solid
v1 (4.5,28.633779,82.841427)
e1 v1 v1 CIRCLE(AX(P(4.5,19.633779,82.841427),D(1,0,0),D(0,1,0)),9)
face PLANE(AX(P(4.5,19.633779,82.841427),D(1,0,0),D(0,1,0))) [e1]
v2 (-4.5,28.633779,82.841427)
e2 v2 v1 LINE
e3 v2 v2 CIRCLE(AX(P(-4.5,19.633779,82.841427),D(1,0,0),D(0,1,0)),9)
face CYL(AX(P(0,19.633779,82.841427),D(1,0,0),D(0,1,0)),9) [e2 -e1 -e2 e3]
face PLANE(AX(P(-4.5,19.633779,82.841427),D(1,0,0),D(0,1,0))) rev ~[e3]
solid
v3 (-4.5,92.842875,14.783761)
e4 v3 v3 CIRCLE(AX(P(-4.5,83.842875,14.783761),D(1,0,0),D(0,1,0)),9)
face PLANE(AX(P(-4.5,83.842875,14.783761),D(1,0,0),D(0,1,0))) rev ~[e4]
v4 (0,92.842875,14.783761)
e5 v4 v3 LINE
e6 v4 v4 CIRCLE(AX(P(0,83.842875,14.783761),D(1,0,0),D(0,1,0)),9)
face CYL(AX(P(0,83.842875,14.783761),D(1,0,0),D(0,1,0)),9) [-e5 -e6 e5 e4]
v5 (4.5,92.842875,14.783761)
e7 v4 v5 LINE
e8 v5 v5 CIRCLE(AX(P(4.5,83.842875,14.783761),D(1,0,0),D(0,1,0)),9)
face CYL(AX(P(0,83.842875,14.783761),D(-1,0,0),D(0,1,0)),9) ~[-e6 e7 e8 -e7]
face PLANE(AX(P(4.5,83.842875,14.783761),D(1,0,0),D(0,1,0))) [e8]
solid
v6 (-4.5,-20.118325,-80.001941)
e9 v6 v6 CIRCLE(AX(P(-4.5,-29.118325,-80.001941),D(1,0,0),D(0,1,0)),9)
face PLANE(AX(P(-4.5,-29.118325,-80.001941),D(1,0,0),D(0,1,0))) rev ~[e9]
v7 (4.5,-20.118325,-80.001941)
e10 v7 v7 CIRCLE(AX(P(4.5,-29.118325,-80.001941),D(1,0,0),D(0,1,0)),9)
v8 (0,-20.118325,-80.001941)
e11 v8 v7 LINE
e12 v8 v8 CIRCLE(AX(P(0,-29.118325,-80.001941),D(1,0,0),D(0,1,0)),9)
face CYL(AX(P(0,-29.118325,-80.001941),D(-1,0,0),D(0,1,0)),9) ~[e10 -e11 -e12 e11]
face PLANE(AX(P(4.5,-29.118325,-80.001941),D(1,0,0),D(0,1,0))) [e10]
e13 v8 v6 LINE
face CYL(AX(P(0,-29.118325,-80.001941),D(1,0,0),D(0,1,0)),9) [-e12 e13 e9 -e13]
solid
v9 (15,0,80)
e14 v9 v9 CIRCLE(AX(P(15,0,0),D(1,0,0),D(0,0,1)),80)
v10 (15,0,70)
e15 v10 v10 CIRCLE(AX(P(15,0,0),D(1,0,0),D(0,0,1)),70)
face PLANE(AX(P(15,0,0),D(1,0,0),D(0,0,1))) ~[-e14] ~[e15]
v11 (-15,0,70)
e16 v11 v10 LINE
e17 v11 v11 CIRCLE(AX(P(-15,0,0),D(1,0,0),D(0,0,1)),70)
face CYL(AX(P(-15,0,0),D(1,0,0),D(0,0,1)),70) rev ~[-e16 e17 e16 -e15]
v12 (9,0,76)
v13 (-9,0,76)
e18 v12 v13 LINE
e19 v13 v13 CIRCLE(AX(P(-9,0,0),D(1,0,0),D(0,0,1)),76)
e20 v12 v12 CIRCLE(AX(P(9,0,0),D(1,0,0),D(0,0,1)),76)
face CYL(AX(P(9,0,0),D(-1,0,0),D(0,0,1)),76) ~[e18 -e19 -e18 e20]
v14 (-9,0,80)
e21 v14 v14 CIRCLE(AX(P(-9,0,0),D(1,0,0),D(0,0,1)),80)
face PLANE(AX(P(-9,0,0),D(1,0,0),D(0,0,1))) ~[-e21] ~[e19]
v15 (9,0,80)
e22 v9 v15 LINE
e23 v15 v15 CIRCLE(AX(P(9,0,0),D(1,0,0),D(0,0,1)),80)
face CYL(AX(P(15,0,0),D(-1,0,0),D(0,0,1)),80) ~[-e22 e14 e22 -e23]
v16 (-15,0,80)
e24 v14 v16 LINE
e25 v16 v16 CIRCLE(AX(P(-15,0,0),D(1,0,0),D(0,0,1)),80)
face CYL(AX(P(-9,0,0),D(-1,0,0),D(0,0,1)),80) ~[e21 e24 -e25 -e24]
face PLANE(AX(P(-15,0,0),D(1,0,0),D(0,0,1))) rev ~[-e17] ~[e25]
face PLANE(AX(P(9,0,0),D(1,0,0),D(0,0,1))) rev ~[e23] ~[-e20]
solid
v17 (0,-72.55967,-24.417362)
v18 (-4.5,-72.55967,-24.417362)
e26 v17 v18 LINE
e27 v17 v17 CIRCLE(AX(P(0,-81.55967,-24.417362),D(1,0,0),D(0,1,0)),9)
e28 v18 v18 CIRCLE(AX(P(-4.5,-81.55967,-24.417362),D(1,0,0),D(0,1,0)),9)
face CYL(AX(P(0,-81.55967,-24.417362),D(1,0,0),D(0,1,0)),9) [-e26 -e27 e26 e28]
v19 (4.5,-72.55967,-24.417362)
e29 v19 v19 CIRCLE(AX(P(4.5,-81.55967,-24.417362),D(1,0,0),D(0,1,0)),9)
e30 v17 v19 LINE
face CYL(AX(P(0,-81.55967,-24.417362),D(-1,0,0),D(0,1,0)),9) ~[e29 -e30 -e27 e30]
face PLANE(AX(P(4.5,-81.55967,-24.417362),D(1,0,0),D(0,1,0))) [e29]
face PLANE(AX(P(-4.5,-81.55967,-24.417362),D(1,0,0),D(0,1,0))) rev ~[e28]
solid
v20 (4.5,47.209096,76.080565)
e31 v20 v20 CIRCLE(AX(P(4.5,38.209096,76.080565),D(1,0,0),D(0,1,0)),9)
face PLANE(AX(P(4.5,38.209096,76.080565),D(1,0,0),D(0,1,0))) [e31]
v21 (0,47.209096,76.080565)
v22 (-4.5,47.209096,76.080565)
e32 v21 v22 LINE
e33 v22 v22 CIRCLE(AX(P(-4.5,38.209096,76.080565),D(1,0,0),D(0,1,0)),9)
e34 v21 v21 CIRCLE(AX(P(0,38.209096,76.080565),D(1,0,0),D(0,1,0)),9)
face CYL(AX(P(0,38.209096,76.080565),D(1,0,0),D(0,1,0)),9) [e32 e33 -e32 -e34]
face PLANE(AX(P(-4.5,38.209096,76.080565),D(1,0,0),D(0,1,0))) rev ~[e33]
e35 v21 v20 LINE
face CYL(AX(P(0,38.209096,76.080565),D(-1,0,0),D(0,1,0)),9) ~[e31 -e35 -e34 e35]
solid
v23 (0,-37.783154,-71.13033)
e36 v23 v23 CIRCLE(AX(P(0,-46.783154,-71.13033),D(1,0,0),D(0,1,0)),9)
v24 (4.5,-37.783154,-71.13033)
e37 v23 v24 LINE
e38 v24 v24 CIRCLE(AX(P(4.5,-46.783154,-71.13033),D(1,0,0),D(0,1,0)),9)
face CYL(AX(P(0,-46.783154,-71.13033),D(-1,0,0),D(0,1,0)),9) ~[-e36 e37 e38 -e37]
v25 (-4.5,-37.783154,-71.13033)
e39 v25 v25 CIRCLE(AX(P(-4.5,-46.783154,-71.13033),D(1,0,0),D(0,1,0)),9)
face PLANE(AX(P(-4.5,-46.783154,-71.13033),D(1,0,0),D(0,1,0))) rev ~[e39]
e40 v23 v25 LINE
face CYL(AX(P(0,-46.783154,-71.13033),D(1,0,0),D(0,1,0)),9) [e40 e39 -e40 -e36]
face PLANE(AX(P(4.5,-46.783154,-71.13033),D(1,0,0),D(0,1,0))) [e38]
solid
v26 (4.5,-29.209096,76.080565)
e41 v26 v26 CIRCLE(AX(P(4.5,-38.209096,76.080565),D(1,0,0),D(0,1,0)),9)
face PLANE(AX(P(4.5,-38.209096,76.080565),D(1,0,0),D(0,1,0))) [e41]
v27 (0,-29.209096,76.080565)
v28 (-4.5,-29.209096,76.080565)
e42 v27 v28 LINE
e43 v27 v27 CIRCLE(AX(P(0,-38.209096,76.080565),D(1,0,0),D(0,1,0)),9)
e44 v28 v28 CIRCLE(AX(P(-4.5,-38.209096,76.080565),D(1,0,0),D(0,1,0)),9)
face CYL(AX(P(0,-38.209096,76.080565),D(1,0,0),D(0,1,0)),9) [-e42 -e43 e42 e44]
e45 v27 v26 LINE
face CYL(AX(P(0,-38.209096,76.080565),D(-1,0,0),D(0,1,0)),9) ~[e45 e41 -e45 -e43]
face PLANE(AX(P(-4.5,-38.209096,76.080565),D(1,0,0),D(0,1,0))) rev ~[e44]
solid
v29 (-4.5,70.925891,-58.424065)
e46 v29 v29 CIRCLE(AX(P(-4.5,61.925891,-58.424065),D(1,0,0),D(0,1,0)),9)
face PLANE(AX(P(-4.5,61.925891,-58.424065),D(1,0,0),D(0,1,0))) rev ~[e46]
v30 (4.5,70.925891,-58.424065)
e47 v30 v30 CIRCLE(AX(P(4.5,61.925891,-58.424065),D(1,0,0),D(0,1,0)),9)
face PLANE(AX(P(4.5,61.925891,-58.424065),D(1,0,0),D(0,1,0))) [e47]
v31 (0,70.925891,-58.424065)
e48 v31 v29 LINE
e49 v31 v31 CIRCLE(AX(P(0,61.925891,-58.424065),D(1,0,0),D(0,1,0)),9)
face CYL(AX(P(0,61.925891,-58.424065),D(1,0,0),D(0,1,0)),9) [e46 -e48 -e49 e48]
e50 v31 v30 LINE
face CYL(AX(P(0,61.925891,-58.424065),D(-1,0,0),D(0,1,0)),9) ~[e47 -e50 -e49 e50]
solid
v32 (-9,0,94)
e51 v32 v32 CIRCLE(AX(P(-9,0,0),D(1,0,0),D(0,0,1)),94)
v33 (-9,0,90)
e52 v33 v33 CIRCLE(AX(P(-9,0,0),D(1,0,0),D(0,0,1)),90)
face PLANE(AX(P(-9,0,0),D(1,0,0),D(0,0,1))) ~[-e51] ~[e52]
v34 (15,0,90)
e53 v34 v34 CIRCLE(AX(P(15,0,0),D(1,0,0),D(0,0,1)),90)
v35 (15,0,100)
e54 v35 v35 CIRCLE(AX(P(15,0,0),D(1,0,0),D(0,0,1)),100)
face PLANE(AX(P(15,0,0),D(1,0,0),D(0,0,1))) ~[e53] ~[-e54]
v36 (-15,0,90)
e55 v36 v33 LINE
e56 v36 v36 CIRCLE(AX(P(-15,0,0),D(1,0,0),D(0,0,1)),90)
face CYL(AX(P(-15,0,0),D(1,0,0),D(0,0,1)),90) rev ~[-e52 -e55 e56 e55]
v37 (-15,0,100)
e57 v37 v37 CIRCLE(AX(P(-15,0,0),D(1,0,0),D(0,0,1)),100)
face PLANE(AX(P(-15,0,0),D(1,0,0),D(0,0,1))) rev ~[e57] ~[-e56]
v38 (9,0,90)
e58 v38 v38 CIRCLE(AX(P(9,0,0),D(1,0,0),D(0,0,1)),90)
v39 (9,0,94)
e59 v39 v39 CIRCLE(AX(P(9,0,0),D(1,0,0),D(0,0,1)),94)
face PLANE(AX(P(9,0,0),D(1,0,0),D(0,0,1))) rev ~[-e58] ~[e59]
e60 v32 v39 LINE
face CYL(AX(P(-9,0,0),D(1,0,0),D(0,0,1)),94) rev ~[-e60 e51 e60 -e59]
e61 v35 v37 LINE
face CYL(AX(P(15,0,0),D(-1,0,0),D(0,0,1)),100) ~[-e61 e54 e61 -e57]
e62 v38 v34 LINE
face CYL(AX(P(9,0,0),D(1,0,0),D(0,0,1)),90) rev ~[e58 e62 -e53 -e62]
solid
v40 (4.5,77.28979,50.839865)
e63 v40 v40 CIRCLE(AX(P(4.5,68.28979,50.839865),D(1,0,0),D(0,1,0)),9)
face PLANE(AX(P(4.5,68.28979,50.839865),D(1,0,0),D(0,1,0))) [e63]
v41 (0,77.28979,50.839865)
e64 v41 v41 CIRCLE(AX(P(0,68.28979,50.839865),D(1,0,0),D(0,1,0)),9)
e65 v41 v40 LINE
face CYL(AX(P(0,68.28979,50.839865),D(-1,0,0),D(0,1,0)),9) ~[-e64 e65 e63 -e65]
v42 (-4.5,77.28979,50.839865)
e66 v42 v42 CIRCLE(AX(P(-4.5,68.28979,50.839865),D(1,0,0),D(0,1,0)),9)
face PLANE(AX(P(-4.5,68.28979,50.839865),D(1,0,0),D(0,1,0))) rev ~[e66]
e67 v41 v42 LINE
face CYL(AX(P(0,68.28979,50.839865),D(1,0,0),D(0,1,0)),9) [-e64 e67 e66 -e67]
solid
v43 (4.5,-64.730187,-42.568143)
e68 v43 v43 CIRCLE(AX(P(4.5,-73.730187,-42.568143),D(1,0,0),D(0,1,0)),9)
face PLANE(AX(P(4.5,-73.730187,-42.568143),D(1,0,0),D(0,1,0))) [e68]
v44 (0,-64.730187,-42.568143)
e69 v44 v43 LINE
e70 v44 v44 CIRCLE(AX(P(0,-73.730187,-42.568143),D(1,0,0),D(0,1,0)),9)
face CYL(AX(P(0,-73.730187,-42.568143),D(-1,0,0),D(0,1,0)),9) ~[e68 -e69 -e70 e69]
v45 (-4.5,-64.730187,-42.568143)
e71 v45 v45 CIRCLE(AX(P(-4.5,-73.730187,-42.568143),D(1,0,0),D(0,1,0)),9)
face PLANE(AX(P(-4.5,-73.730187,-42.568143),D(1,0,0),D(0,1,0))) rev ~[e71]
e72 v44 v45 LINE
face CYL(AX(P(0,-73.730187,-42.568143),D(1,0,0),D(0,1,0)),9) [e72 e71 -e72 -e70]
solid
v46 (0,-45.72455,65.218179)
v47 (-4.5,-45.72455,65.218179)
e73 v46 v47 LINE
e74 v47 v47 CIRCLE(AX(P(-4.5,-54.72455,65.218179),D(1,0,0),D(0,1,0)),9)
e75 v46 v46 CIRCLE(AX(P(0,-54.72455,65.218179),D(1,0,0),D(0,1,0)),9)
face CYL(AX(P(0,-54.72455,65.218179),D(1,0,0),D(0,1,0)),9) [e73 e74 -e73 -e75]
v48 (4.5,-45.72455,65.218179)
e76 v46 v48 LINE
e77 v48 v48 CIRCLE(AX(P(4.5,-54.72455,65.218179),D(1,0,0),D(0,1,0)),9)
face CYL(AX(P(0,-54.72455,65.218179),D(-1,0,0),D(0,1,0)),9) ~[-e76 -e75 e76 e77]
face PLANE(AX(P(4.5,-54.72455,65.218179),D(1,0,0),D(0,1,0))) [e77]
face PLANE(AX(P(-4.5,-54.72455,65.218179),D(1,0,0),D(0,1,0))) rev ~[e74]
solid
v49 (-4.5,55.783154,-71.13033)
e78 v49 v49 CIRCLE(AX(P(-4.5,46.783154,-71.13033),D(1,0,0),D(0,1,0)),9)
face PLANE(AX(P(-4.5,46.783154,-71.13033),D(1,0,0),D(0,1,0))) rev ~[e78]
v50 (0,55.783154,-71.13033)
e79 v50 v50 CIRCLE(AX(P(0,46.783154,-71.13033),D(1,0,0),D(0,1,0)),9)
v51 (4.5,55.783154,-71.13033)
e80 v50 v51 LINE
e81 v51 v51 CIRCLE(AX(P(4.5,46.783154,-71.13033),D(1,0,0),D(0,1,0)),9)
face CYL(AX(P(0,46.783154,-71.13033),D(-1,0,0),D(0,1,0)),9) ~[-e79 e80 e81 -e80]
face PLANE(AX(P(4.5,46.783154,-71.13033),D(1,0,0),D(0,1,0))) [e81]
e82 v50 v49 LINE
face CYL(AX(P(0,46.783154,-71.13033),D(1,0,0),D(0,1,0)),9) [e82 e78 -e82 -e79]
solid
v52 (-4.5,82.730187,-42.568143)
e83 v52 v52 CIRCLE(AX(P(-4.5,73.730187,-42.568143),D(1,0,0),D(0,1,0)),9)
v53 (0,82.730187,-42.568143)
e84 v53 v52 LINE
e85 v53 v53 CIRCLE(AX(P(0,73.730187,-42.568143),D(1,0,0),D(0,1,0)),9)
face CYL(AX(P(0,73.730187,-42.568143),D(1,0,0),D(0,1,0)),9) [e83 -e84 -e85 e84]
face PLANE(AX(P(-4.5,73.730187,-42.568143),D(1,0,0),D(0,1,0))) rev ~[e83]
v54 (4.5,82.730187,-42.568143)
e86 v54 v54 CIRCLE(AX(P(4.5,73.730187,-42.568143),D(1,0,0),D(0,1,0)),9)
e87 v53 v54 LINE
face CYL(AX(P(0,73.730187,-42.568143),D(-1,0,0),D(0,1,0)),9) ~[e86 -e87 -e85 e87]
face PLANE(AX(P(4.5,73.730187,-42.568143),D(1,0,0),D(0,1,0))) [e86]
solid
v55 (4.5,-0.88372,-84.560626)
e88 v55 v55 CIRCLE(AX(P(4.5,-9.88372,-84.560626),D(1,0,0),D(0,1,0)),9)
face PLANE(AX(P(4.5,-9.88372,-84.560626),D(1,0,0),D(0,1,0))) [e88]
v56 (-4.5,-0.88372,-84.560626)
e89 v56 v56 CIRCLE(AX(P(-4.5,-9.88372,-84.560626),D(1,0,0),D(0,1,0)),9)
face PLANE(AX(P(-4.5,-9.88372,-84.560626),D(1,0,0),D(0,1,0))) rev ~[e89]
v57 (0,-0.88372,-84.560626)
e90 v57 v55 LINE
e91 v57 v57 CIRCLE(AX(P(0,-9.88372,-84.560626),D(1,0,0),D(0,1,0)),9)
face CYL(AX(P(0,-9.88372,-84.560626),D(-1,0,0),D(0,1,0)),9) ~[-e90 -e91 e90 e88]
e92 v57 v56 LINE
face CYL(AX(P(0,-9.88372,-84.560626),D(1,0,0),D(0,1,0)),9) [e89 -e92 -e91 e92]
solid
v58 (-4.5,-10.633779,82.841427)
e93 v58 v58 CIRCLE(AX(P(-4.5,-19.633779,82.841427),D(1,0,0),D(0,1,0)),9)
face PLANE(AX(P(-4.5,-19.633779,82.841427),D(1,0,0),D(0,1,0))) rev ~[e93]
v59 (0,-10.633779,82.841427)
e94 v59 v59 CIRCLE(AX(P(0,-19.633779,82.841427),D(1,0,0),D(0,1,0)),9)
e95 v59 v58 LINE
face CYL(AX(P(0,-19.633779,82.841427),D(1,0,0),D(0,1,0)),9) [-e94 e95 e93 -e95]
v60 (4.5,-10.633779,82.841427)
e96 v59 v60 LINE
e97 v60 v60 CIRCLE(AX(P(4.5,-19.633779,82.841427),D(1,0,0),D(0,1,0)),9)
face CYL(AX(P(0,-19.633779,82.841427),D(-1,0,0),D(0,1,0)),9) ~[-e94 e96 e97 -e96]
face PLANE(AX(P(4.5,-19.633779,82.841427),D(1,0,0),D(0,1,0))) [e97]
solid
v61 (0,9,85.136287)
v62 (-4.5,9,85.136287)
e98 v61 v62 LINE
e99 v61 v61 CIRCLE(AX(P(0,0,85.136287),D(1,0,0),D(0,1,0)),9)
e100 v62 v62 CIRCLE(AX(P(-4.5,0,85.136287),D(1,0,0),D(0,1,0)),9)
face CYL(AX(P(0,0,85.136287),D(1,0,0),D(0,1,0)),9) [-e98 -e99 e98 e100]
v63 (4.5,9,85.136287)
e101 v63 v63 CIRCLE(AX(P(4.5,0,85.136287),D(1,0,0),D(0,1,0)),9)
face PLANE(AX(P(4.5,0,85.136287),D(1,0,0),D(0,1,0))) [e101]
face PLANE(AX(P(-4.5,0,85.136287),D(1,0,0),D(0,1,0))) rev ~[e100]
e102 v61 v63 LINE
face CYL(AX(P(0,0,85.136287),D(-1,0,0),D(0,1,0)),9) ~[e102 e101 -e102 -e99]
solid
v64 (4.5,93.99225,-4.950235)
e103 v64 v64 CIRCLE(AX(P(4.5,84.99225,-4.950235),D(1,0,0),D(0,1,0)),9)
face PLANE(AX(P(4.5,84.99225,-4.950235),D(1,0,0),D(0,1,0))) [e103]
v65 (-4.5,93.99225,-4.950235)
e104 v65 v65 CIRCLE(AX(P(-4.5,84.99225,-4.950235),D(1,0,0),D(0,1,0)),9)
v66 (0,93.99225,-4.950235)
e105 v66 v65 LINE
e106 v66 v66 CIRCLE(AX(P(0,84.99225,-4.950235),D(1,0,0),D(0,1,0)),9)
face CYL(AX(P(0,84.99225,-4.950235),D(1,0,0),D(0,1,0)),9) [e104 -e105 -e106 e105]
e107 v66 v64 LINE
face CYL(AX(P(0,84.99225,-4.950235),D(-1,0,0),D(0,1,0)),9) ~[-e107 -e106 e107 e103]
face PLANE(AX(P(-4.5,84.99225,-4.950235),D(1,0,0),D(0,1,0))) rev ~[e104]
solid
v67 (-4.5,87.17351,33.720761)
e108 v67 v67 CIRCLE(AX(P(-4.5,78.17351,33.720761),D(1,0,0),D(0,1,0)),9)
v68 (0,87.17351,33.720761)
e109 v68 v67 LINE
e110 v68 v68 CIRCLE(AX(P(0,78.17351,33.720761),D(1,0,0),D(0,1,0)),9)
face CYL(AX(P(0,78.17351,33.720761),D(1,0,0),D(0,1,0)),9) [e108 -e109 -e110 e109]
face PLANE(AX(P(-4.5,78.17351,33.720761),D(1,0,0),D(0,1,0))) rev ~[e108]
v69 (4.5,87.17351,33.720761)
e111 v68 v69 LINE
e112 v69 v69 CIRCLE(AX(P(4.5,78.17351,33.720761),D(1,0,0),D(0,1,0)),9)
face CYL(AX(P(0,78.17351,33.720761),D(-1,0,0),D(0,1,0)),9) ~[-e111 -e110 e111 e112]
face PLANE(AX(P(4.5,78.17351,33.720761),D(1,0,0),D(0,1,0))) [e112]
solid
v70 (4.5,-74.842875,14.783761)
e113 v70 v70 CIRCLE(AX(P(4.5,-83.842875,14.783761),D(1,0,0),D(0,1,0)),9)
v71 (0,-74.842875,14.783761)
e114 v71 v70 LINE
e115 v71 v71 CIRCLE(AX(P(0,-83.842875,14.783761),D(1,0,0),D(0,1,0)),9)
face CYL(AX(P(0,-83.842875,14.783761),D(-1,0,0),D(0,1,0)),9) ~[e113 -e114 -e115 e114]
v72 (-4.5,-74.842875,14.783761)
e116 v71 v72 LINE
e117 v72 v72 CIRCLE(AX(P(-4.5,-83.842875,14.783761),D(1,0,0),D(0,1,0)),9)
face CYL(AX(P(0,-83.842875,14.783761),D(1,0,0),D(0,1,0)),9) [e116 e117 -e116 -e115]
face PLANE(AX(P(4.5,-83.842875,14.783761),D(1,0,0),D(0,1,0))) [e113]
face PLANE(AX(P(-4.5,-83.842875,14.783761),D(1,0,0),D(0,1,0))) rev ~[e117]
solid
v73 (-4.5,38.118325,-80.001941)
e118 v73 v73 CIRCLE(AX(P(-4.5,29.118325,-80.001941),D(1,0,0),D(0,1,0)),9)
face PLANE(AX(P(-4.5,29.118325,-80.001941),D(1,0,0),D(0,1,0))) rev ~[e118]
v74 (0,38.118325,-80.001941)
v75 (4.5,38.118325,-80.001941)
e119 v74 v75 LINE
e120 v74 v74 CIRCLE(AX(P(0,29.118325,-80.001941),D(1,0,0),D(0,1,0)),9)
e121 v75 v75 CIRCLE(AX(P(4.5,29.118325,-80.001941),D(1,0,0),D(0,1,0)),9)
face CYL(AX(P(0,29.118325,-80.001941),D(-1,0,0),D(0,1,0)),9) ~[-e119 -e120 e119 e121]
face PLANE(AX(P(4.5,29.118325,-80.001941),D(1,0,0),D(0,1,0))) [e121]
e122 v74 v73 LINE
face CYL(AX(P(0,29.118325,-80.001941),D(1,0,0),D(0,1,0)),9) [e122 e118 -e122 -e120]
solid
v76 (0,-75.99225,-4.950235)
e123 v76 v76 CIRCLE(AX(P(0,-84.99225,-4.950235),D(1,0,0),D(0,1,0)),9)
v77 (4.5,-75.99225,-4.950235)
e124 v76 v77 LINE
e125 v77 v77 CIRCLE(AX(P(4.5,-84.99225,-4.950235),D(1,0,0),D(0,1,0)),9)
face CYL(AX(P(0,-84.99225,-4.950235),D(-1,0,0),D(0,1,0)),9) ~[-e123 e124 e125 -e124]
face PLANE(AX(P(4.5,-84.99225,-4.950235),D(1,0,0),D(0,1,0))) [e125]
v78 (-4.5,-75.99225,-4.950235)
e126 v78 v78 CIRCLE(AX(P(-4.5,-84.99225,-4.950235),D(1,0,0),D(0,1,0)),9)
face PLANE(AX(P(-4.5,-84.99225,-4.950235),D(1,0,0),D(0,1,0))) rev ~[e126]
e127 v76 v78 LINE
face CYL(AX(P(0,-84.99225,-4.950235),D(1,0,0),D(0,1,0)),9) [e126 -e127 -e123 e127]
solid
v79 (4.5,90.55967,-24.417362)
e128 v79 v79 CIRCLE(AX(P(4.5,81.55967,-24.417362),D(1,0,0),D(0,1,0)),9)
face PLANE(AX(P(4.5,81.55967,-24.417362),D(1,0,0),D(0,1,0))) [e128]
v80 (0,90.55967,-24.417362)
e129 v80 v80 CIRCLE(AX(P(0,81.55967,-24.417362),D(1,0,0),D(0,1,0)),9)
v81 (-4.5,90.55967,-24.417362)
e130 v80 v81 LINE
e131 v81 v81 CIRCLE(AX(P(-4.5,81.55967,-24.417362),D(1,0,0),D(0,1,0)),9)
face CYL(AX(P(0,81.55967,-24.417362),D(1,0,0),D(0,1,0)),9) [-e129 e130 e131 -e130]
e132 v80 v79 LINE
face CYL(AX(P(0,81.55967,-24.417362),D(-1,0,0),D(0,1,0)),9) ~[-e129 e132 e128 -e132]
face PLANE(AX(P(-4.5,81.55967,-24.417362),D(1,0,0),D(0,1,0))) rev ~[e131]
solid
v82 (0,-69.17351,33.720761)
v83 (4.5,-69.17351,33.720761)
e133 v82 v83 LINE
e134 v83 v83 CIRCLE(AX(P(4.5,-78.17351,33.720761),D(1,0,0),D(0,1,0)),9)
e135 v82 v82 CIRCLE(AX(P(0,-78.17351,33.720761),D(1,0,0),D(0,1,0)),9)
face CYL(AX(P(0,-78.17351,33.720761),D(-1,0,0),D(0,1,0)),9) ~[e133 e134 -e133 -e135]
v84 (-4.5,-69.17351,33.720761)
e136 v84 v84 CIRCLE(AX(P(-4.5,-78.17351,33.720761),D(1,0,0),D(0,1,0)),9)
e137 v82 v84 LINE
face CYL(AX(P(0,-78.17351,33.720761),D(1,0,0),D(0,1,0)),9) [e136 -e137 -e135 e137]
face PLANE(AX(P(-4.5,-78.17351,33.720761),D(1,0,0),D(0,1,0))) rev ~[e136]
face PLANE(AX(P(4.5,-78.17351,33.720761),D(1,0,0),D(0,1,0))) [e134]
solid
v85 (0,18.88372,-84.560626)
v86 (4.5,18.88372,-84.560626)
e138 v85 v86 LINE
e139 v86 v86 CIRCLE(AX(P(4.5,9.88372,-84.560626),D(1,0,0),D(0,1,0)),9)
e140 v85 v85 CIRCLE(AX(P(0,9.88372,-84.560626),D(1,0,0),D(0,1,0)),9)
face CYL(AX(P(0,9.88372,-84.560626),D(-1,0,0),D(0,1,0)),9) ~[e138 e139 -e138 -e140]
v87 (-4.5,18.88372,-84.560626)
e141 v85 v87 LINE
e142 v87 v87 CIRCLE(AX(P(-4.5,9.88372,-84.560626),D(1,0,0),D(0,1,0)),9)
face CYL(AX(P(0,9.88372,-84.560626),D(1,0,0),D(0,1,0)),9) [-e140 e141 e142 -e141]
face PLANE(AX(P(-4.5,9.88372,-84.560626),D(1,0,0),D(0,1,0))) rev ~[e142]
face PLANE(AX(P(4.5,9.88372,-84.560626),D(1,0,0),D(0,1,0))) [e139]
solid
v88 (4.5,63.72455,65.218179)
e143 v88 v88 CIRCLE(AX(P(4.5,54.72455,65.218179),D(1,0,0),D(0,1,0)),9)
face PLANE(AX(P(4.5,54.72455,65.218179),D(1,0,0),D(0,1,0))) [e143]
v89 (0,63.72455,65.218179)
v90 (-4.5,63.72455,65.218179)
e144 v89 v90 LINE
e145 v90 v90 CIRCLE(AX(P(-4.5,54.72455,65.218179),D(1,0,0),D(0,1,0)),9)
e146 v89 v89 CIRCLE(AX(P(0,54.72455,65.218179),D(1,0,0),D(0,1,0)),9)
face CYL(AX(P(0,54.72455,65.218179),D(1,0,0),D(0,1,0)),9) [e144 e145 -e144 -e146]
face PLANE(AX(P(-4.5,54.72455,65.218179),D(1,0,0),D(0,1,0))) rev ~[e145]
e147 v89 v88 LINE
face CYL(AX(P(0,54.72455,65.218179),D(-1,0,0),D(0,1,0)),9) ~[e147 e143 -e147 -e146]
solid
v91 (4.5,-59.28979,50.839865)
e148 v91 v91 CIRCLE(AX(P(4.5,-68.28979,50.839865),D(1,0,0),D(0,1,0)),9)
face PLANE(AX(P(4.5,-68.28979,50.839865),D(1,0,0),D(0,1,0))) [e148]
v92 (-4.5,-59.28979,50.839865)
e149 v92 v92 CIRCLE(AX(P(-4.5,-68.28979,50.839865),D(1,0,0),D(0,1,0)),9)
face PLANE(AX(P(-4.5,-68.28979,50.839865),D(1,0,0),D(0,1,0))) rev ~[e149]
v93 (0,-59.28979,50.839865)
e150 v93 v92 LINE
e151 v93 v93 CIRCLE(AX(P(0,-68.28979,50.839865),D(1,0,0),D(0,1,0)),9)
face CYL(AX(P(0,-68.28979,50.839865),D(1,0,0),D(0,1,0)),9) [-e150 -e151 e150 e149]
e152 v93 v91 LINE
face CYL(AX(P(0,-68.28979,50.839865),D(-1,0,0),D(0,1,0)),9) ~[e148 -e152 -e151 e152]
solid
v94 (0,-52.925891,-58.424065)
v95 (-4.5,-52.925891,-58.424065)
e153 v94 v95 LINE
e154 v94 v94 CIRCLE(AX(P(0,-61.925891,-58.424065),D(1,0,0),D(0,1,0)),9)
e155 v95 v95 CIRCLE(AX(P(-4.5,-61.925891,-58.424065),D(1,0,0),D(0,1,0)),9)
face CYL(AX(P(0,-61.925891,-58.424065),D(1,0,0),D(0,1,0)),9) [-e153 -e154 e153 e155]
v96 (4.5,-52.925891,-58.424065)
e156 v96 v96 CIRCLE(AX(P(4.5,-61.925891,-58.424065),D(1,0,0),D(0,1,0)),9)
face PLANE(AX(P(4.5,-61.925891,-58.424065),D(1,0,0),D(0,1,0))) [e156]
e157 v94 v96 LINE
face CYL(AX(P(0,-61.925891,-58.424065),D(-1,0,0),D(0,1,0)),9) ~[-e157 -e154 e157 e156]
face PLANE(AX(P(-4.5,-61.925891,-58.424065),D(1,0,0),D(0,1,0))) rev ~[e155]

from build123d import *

# Parameters (mm, degrees)
F2_R     = 9
F3_DEPTH = 4.5


with BuildPart() as f1:
    # F0 (on Front) → F1 (revolve)
    with BuildSketch(Plane.XZ):
        Polygon((15, 100), (0, 100), (-15, 100), (-15, 90), (-12.046538, 90), (-9, 90), (-9, 94), (0, 94), (9, 94), (9, 90), (11.928149, 90), (15, 90), align=None)
        Polygon((11.928149, 80), (9, 80), (9, 76), (0, 76), (-9, 76), (-9, 80), (-12.046538, 80), (-15, 80), (-15, 70), (0, 70), (15, 70), (15, 80), align=None)
    revolve(axis=Axis((0.990749, 0, 0), (1, 0, 0)))


with BuildPart() as f3:
    # F2 (on Right) → F3 (new body, symmetric)
    with BuildSketch(Plane.YZ):
        with Locations((0, 85.136287)):
            Circle(F2_R)
        with Locations((-19.633779, 82.841427)):
            Circle(F2_R)
        with Locations((-38.209096, 76.080565)):
            Circle(F2_R)
        with Locations((-54.72455, 65.218179)):
            Circle(F2_R)
        with Locations((-68.28979, 50.839865)):
            Circle(F2_R)
        with Locations((-78.17351, 33.720761)):
            Circle(F2_R)
        with Locations((-83.842875, 14.783761)):
            Circle(F2_R)
        with Locations((-84.99225, -4.950235)):
            Circle(F2_R)
        with Locations((-81.55967, -24.417362)):
            Circle(F2_R)
        with Locations((-73.730187, -42.568143)):
            Circle(F2_R)
        with Locations((-61.925891, -58.424065)):
            Circle(F2_R)
        with Locations((-29.118325, -80.001941)):
            Circle(F2_R)
        with Locations((-46.783154, -71.13033)):
            Circle(F2_R)
        with Locations((-9.88372, -84.560626)):
            Circle(F2_R)
        with Locations((9.88372, -84.560626)):
            Circle(F2_R)
        with Locations((29.118325, -80.001941)):
            Circle(F2_R)
        with Locations((46.783154, -71.13033)):
            Circle(F2_R)
        with Locations((61.925891, -58.424065)):
            Circle(F2_R)
        with Locations((73.730187, -42.568143)):
            Circle(F2_R)
        with Locations((81.55967, -24.417362)):
            Circle(F2_R)
        with Locations((84.99225, -4.950235)):
            Circle(F2_R)
        with Locations((83.842875, 14.783761)):
            Circle(F2_R)
        with Locations((78.17351, 33.720761)):
            Circle(F2_R)
        with Locations((68.28979, 50.839865)):
            Circle(F2_R)
        with Locations((54.72455, 65.218179)):
            Circle(F2_R)
        with Locations((38.209096, 76.080565)):
            Circle(F2_R)
        with Locations((19.633779, 82.841427)):
            Circle(F2_R)
    extrude(amount=F3_DEPTH, both=True)


solid = Compound([f1.part, f3.part])
